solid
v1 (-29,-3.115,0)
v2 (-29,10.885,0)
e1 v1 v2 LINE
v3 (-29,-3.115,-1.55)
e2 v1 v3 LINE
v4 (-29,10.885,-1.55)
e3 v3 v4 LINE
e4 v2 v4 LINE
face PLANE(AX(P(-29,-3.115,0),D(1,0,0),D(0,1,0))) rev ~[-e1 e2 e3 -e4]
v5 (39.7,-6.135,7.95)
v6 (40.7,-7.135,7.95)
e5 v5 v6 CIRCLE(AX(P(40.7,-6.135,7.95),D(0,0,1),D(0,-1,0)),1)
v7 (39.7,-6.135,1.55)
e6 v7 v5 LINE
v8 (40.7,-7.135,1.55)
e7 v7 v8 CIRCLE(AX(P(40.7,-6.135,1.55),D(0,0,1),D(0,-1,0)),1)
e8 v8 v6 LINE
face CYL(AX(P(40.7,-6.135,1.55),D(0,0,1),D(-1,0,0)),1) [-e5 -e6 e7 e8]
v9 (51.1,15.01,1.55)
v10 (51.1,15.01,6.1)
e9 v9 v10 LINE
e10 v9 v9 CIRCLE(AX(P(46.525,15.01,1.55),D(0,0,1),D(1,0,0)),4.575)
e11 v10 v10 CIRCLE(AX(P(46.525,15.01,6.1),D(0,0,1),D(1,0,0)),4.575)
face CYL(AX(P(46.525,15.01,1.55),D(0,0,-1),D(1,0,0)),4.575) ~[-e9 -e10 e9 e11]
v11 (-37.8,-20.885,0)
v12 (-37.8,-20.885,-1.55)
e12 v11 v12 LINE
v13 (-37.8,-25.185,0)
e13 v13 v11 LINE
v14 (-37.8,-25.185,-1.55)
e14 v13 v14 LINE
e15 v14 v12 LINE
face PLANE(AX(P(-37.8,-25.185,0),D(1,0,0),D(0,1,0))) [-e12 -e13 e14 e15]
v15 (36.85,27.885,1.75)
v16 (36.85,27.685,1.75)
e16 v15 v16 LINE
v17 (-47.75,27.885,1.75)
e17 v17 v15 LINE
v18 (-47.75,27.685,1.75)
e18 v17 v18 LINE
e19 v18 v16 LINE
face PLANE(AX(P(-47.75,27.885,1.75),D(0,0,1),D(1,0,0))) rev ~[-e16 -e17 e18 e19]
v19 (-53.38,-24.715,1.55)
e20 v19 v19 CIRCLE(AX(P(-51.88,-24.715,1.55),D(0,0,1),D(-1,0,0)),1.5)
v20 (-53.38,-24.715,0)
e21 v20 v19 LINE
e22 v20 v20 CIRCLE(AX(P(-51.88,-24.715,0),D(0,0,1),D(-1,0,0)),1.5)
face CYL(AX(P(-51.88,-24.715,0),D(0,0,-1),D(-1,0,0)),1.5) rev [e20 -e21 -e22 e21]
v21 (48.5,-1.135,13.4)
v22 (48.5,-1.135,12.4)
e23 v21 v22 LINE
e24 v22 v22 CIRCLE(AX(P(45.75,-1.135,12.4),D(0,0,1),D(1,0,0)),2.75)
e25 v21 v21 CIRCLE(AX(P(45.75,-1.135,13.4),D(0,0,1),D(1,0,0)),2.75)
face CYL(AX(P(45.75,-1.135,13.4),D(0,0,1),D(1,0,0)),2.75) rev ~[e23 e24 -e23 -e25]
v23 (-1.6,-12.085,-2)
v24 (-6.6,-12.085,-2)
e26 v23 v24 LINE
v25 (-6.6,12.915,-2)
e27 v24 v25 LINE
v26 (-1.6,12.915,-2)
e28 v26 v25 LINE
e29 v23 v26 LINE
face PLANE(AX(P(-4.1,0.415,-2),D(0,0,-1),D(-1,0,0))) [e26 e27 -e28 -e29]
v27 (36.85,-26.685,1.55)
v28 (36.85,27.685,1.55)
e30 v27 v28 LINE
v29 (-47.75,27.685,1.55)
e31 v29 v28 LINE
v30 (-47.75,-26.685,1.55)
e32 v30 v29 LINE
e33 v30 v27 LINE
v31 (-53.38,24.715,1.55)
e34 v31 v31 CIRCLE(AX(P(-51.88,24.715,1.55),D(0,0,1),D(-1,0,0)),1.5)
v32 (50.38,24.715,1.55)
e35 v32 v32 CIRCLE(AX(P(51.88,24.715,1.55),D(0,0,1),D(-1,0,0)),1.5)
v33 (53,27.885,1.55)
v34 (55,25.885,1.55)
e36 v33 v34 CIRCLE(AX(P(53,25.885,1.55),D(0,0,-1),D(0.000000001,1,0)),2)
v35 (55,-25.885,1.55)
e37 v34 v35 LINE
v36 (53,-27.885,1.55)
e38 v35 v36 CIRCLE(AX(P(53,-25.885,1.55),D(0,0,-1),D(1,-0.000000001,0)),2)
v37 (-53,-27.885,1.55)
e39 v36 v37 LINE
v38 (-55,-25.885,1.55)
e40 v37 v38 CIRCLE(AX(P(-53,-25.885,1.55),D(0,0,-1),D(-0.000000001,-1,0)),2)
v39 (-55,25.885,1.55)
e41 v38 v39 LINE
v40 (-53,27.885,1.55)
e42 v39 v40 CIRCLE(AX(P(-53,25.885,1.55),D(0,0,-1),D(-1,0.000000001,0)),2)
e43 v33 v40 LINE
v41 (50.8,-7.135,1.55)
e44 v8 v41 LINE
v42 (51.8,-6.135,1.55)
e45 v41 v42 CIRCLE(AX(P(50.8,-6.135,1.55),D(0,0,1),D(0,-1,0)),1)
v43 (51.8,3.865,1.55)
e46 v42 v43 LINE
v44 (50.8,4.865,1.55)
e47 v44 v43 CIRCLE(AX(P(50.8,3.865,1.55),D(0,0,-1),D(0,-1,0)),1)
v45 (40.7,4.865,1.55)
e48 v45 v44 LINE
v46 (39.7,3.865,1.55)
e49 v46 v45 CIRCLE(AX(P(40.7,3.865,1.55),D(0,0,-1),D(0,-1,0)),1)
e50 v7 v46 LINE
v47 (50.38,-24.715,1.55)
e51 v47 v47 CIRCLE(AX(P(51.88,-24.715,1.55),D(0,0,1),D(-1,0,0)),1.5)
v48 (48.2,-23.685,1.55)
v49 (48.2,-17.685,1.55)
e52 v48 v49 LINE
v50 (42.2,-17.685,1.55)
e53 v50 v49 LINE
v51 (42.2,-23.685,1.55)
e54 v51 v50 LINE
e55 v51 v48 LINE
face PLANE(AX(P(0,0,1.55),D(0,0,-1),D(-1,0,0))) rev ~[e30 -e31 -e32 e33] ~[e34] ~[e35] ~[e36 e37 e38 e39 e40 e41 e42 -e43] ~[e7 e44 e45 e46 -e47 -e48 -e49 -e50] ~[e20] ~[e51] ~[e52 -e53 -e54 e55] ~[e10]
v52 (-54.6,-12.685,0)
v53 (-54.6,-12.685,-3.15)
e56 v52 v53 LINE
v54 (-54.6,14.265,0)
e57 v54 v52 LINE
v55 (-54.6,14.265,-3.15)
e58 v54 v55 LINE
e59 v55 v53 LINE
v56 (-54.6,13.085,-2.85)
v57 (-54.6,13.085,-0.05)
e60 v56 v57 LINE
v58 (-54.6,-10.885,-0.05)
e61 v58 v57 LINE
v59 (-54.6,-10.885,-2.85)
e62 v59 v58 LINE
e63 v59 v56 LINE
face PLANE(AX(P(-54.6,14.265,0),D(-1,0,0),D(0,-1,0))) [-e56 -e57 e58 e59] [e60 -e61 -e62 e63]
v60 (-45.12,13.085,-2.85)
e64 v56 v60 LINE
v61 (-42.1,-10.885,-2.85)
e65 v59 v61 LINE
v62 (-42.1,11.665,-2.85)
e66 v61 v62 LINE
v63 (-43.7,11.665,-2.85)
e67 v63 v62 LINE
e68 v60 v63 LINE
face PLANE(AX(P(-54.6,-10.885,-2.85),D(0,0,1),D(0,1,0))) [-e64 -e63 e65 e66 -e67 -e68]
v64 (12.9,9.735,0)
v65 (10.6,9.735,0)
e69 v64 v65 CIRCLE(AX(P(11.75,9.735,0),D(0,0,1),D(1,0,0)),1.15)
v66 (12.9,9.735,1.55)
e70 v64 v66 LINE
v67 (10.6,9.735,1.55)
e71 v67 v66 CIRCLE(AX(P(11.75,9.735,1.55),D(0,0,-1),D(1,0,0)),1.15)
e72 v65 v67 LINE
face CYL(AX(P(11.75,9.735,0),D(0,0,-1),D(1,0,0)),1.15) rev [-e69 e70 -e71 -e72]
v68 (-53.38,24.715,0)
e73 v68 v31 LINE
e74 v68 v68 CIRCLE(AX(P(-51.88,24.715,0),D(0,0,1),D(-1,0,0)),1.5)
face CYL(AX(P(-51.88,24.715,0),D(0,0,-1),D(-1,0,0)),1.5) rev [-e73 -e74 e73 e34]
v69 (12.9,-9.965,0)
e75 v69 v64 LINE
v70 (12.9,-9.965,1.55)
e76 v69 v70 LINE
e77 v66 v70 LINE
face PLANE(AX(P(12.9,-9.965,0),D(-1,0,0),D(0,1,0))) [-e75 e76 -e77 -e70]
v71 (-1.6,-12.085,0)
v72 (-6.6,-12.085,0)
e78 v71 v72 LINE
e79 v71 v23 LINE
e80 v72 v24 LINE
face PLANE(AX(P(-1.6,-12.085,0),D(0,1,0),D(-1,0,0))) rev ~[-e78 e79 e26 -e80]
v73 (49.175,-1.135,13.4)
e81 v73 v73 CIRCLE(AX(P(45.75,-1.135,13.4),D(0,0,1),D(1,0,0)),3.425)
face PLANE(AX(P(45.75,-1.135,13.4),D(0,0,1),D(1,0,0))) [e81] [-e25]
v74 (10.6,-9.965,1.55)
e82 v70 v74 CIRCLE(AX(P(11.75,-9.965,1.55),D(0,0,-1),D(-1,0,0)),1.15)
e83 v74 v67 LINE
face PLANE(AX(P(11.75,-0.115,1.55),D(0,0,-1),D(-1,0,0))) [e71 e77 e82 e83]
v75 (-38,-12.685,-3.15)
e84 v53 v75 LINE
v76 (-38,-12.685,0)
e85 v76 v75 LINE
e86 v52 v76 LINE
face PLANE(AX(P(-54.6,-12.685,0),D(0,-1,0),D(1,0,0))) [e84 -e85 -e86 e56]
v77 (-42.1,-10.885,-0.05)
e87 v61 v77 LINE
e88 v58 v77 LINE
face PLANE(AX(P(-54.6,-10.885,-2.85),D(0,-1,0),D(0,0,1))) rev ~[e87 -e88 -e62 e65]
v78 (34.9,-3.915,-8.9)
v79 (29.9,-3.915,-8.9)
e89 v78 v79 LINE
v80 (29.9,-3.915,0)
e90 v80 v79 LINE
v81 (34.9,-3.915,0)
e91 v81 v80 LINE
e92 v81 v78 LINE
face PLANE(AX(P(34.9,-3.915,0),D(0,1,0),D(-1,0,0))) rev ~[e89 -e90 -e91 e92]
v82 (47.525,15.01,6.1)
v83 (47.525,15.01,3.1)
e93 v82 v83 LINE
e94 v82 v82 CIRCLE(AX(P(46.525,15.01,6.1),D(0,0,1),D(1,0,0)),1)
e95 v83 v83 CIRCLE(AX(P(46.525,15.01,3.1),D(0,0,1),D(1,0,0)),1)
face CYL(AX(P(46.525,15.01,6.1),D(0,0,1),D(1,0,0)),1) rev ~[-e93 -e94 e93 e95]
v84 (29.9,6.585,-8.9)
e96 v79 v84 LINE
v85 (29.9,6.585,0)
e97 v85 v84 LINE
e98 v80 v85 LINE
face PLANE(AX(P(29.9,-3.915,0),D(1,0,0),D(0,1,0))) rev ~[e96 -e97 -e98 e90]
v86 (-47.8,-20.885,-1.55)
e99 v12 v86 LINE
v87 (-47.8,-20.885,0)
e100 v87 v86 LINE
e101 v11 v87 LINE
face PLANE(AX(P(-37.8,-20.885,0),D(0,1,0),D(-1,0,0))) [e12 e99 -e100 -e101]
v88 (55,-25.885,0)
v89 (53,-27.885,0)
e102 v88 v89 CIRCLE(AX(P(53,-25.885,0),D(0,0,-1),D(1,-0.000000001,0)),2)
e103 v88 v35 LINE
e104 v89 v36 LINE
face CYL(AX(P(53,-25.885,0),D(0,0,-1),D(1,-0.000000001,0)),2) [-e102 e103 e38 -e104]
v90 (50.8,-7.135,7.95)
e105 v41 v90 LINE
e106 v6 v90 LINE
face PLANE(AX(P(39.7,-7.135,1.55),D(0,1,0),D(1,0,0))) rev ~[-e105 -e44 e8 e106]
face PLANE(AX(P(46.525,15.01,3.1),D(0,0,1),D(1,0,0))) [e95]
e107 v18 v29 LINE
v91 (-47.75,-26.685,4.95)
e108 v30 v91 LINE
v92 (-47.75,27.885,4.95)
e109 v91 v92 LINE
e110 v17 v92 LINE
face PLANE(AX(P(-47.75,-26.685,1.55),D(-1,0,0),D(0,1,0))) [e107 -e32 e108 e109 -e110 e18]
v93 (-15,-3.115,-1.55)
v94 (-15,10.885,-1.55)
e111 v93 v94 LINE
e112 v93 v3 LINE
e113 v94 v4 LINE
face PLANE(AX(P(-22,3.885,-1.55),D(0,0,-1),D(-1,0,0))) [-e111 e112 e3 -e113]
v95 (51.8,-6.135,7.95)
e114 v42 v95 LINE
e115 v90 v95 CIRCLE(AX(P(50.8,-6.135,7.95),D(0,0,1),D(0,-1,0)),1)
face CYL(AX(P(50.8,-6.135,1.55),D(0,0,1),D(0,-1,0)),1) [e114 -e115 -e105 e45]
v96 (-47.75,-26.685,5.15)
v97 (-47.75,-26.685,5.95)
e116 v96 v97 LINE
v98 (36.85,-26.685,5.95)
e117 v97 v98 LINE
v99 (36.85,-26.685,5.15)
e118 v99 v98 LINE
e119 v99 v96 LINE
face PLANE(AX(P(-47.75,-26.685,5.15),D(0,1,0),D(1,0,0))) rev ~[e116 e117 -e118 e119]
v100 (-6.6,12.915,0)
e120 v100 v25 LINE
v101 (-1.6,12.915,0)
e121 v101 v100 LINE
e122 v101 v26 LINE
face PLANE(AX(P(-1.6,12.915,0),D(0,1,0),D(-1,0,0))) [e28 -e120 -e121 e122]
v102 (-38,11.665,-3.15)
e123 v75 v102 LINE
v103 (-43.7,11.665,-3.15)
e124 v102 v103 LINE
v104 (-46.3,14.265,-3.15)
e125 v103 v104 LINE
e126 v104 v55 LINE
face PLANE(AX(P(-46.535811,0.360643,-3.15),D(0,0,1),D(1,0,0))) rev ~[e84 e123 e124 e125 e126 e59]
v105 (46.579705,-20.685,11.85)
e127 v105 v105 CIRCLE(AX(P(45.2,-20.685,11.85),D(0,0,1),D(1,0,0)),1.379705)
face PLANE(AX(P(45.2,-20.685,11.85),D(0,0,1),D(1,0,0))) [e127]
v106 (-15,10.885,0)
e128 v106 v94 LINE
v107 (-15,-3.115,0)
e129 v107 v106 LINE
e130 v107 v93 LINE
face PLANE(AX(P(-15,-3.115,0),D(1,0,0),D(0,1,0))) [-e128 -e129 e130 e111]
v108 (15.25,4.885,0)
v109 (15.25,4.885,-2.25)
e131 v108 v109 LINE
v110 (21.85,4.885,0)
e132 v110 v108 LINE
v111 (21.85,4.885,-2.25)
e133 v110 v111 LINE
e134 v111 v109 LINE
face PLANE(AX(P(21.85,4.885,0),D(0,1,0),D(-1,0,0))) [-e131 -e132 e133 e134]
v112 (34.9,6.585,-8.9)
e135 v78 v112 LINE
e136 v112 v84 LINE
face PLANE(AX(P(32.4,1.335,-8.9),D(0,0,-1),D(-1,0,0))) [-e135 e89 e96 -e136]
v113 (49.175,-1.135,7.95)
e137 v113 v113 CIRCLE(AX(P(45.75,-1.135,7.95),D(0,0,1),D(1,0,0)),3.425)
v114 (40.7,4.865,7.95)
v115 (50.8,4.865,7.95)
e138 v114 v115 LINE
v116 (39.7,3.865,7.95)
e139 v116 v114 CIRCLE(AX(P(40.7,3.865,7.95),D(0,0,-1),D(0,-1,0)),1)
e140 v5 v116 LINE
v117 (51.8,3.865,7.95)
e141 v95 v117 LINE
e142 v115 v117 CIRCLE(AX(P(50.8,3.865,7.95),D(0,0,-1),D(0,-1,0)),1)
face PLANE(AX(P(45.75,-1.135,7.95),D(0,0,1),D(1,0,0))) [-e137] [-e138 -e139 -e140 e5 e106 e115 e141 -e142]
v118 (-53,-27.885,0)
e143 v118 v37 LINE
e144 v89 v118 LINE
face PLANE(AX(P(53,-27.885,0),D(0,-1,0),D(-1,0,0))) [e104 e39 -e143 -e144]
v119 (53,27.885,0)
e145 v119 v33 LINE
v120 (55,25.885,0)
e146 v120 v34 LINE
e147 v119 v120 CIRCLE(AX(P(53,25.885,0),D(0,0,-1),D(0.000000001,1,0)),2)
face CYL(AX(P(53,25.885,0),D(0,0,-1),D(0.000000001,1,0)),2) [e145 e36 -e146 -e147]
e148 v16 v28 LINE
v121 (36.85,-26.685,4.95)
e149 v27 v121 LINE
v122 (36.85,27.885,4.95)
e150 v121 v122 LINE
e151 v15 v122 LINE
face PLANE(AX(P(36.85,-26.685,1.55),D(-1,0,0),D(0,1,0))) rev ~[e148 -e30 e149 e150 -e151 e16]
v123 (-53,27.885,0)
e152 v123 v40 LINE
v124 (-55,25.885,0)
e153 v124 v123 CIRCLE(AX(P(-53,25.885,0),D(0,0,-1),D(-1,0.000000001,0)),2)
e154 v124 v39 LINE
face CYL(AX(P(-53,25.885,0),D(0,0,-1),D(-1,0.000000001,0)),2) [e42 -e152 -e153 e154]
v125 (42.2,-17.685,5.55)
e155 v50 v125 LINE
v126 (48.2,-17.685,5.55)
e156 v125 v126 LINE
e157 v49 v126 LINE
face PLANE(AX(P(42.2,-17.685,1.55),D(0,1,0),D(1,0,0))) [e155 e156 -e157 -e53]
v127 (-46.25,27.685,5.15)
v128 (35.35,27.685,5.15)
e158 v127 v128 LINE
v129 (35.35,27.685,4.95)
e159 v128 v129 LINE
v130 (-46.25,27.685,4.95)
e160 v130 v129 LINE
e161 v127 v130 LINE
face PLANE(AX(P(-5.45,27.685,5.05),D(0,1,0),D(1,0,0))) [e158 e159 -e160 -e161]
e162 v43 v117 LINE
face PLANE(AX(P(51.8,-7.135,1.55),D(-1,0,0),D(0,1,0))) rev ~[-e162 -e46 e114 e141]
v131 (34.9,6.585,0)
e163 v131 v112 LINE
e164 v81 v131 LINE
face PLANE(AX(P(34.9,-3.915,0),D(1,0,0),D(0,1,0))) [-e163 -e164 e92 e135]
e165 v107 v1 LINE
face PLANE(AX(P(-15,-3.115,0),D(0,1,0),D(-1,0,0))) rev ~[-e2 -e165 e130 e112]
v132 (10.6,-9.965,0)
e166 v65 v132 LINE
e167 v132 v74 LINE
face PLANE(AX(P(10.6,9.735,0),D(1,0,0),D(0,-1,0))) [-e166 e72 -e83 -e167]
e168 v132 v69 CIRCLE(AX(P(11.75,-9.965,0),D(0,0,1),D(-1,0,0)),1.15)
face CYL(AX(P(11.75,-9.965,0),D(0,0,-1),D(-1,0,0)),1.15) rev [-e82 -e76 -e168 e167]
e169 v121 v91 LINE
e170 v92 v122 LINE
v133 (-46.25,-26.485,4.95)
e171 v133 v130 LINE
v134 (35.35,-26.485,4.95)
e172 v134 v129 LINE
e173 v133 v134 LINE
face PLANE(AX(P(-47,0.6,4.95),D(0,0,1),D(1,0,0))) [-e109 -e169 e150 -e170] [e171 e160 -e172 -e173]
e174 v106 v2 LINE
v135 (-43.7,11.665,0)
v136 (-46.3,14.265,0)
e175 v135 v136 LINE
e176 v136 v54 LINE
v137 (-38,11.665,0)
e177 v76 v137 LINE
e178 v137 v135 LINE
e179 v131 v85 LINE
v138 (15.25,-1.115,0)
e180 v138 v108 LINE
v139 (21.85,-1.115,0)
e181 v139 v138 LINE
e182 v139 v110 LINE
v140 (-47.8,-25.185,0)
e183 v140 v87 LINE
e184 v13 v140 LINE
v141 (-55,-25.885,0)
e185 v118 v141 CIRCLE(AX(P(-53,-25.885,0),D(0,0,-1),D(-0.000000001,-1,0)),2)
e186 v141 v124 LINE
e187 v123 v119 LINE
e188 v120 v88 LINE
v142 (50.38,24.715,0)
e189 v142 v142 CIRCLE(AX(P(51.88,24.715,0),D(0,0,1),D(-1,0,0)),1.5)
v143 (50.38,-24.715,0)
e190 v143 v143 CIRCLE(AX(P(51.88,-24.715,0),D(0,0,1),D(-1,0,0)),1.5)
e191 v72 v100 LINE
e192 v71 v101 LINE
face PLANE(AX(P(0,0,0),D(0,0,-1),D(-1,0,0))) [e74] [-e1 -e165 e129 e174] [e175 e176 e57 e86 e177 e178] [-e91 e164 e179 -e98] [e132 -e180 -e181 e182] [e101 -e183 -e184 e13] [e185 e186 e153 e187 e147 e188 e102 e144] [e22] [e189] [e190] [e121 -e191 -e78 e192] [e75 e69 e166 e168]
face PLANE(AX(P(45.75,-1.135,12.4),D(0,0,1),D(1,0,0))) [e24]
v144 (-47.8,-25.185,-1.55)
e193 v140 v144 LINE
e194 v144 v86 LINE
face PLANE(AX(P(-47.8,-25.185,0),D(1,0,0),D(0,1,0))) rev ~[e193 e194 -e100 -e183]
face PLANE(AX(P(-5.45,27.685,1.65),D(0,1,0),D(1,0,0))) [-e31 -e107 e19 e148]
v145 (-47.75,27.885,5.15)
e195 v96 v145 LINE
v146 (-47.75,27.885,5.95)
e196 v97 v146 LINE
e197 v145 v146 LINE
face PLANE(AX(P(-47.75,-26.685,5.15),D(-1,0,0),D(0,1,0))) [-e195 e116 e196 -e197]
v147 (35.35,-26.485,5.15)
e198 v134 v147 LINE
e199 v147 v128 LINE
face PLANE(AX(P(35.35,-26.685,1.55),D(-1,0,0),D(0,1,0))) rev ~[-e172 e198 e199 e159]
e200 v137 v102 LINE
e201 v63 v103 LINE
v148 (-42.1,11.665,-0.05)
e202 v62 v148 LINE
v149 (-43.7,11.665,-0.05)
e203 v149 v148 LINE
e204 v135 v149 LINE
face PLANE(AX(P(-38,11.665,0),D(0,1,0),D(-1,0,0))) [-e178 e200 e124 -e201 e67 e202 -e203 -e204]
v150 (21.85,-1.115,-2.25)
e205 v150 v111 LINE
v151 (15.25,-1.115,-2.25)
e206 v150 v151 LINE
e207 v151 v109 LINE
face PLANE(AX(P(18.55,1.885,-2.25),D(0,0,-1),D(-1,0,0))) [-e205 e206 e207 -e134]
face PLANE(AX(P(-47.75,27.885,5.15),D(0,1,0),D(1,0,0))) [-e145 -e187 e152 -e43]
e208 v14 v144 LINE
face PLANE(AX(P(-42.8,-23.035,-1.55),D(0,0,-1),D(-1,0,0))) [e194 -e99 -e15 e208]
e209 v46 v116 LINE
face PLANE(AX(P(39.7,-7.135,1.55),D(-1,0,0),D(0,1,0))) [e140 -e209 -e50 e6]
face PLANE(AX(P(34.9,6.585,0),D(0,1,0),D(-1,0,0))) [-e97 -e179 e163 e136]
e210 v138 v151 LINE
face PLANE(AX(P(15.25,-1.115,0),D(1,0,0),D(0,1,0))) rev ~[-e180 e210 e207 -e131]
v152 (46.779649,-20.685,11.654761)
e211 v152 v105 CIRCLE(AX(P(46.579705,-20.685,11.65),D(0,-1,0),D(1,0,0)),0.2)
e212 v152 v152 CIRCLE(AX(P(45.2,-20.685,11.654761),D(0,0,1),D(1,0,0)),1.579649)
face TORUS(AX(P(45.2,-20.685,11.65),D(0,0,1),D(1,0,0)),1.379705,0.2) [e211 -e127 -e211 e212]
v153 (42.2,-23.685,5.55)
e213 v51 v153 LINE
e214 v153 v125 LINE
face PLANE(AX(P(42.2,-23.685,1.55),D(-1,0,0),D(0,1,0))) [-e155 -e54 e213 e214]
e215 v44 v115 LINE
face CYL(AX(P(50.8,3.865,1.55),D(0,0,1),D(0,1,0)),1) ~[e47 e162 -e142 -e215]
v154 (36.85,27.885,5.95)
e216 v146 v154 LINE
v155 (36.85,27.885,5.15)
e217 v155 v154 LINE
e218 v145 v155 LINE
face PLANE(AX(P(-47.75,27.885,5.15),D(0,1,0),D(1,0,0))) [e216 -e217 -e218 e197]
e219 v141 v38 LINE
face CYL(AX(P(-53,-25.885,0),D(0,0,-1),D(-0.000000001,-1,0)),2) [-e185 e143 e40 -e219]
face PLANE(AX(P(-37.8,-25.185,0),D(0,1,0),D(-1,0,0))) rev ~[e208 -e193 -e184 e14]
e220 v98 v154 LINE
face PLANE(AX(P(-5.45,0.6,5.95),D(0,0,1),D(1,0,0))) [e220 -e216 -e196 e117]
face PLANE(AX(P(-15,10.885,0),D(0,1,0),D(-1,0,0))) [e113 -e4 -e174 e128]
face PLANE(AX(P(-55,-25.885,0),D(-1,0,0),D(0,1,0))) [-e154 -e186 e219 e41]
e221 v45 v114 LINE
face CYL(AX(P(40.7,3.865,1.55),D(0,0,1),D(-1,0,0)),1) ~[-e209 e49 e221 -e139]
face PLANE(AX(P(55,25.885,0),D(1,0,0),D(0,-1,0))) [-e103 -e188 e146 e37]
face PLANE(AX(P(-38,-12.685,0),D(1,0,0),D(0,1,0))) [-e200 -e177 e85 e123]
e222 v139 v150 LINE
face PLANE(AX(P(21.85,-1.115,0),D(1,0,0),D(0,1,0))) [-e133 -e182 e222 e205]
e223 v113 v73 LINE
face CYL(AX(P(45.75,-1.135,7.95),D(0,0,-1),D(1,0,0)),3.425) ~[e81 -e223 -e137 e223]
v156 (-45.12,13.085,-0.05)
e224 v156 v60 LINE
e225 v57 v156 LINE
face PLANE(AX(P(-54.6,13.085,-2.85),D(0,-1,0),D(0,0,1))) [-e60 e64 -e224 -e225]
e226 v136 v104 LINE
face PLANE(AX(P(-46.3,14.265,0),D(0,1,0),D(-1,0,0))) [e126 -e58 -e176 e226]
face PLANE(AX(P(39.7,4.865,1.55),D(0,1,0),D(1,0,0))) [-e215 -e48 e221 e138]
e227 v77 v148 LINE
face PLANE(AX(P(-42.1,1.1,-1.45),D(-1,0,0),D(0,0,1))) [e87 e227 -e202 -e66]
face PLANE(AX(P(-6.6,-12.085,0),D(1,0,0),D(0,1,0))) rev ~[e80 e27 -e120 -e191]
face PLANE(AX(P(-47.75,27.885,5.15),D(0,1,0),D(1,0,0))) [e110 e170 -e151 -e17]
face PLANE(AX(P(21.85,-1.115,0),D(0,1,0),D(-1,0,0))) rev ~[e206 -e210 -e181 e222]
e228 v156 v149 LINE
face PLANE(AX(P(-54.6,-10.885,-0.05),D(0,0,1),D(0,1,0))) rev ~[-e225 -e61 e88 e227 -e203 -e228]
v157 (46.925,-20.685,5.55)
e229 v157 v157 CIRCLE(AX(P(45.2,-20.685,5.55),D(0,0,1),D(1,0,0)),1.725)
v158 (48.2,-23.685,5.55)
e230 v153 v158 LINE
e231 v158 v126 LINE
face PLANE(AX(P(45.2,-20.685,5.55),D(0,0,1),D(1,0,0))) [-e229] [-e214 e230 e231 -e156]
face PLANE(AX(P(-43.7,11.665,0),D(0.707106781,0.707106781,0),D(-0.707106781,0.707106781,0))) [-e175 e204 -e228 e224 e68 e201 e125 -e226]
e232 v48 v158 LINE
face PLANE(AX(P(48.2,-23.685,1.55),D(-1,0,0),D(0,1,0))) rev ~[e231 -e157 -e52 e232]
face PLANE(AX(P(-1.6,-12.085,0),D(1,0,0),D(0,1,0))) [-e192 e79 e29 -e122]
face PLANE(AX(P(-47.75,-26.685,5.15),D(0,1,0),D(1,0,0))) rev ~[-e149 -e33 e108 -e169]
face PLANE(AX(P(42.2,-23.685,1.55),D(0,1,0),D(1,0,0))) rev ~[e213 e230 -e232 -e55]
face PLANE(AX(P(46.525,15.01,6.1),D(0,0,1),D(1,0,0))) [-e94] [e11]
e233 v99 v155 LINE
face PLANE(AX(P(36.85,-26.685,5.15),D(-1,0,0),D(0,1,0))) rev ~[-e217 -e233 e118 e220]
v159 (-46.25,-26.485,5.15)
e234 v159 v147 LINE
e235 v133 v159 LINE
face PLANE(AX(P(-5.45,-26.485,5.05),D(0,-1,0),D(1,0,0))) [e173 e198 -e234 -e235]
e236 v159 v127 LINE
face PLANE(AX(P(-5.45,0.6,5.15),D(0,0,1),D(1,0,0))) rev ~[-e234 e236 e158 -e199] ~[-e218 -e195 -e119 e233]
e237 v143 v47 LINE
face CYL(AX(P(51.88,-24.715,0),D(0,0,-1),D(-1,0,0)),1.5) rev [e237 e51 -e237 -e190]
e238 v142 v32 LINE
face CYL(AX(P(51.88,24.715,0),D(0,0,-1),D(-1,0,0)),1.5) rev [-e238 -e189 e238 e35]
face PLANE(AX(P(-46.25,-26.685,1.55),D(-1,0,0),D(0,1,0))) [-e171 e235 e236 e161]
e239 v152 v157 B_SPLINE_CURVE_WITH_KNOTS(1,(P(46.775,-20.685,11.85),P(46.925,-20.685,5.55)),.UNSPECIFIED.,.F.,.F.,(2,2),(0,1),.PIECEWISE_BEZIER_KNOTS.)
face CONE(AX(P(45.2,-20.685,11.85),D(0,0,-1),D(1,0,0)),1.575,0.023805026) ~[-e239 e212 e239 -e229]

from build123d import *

# Parameters (mm, degrees)
SKETCH1_R            = 1.5
BOSS_EXTRUDE1_DEPTH  = 1.55
SKETCH3_W            = 14
SKETCH3_H            = 14
BOSS_EXTRUDE2_DEPTH  = 1.55
CUT_EXTRUDE1_REACH   = 63.684
BOSS_EXTRUDE3_DEPTH  = 3.15
SKETCH3_4_W          = 5
SKETCH3_4_H          = 25
BOSS_EXTRUDE4_DEPTH  = 2
SKETCH3_5_W          = 5
SKETCH3_5_H          = 10.5
BOSS_EXTRUDE5_DEPTH  = 8.9
SKETCH3_6_W          = 6.6
SKETCH3_6_H          = 6
BOSS_EXTRUDE6_DEPTH  = 2.25
SKETCH3_7_W          = 10
SKETCH3_7_H          = 4.3
BOSS_EXTRUDE7_DEPTH  = 1.55
SKETCH5_W            = 81.6
SKETCH5_H            = 54.57
BOSS_EXTRUDE8_DEPTH  = 3.6
SKETCH5_3_W          = 1.5
SKETCH5_3_H          = 54.57
BOSS_EXTRUDE9_DEPTH  = 3.4
SKETCH6_W            = 84.6
SKETCH6_H            = 54.57
BOSS_EXTRUDE10_DEPTH = 0.8
SKETCH5_4_W          = 6
SKETCH5_4_H          = 6
BOSS_EXTRUDE11_DEPTH = 4
SKETCH5_5_W          = 12.1
SKETCH5_5_H          = 12
BOSS_EXTRUDE12_DEPTH = 6.4
SKETCH5_6_R          = 4.575
BOSS_EXTRUDE13_DEPTH = 4.55
SKETCH7_R            = 1
CUT_EXTRUDE2_DEPTH   = 3
SKETCH8_R            = 3.425
BOSS_EXTRUDE14_DEPTH = 5.45
SKETCH10_R           = 1.575
SKETCH9_R            = 1.725
FILLET1_R            = 0.2
SKETCH11_W           = 2.8
SKETCH11_H           = 23.97
CUT_EXTRUDE3_DEPTH   = 12.5
FILLET2_R            = 1
SKETCH13_W           = 84.6
SKETCH13_H           = 0.2
SKETCH13_W_2         = 81.6
CUT_EXTRUDE4_DEPTH   = 0.2
SKETCH14_W           = 81.6
SKETCH14_H           = 0.2
CUT_EXTRUDE5_DEPTH   = 0.2
SKETCH15_R           = 2.75
CUT_EXTRUDE6_DEPTH   = 1


with BuildPart() as part:
    # Sketch1 → Boss-Extrude1 (new body)
    with BuildSketch(Plane.XY):
        with BuildLine():
            Line((-53, 27.885), (53, 27.885))
            ThreePointArc((53, 27.885), (54.414213562, 27.299213562), (55, 25.885))
            Line((55, 25.885), (55, -25.885))
            ThreePointArc((55, -25.885), (54.414213562, -27.299213562), (53, -27.885))
            Line((53, -27.885), (-53, -27.885))
            ThreePointArc((-53, -27.885), (-54.414213562, -27.299213562), (-55, -25.885))
            Line((-55, -25.885), (-55, 25.885))
            ThreePointArc((-55, 25.885), (-54.414213562, 27.299213562), (-53, 27.885))
        make_face()
        with Locations(Location((-51.88, 24.715, 0), (0, 0, 180))):
            Circle(SKETCH1_R, mode=Mode.SUBTRACT)
        with Locations(Location((51.88, 24.715, 0), (0, 0, 180))):
            Circle(SKETCH1_R, mode=Mode.SUBTRACT)
        with Locations(Location((51.88, -24.715, 0), (0, 0, 180))):
            Circle(SKETCH1_R, mode=Mode.SUBTRACT)
        with Locations(Location((-51.88, -24.715, 0), (0, 0, 180))):
            Circle(SKETCH1_R, mode=Mode.SUBTRACT)
    extrude(amount=BOSS_EXTRUDE1_DEPTH)

    # Sketch3 → Boss-Extrude2 (add)
    with BuildSketch(Plane(origin=(0, 0, 0), x_dir=(-1, 0, 0), z_dir=(0, 0, -1))):
        with Locations((22, 3.885)):
            Rectangle(SKETCH3_W, SKETCH3_H)
    extrude(amount=BOSS_EXTRUDE2_DEPTH)

    # Sketch4 → Cut-Extrude1 (cut, up to next)
    with BuildSketch(Plane(origin=(0, 0, 0), x_dir=(-1, 0, 0), z_dir=(0, 0, -1)), mode=Mode.PRIVATE) as cut_extrude1_sk1:
        with BuildLine():
            Line((-10.6, 9.735), (-10.6, -9.965))
            ThreePointArc((-10.6, -9.965), (-11.75, -11.115), (-12.9, -9.965))
            Line((-12.9, -9.965), (-12.9, 9.735))
            ThreePointArc((-12.9, 9.735), (-11.75, 10.885), (-10.6, 9.735))
        make_face()
    cut_extrude1_tool1 = extrude(cut_extrude1_sk1.sketch, amount=-CUT_EXTRUDE1_REACH, mode=Mode.PRIVATE) & part.part
    add(cut_extrude1_tool1.solids().sort_by_distance((11.75, -0.115, 0))[0], mode=Mode.SUBTRACT)

    # Sketch3<3> → Boss-Extrude3 (add)
    with BuildSketch(Plane(origin=(0, 0, 0), x_dir=(-1, 0, 0), z_dir=(0, 0, -1))):
        Polygon((43.7, 11.665), (46.3, 14.265), (54.6, 14.265), (54.6, -12.685), (38, -12.685), (38, 11.665), align=None)
    extrude(amount=BOSS_EXTRUDE3_DEPTH)

    # Sketch3<4> → Boss-Extrude4 (add)
    with BuildSketch(Plane(origin=(0, 0, 0), x_dir=(-1, 0, 0), z_dir=(0, 0, -1))):
        with Locations((4.1, 0.415)):
            Rectangle(SKETCH3_4_W, SKETCH3_4_H)
    extrude(amount=BOSS_EXTRUDE4_DEPTH)

    # Sketch3<5> → Boss-Extrude5 (add)
    with BuildSketch(Plane(origin=(0, 0, 0), x_dir=(-1, 0, 0), z_dir=(0, 0, -1))):
        with Locations((-32.4, 1.335)):
            Rectangle(SKETCH3_5_W, SKETCH3_5_H)
    extrude(amount=BOSS_EXTRUDE5_DEPTH)

    # Sketch3<6> → Boss-Extrude6 (add)
    with BuildSketch(Plane(origin=(0, 0, 0), x_dir=(-1, 0, 0), z_dir=(0, 0, -1))):
        with Locations((-18.55, 1.885)):
            Rectangle(SKETCH3_6_W, SKETCH3_6_H)
    extrude(amount=BOSS_EXTRUDE6_DEPTH)

    # Sketch3<7> → Boss-Extrude7 (add)
    with BuildSketch(Plane(origin=(0, 0, 0), x_dir=(-1, 0, 0), z_dir=(0, 0, -1))):
        with Locations((42.8, -23.035)):
            Rectangle(SKETCH3_7_W, SKETCH3_7_H)
    extrude(amount=BOSS_EXTRUDE7_DEPTH)

    # Sketch5 → Boss-Extrude8 (add)
    # profile 1 of 2: a face of its own
    with BuildSketch(Plane.XY.offset(1.55)):
        with Locations((-5.45, 0.6)):
            Rectangle(SKETCH5_W, SKETCH5_H)
        with BuildLine():
            Line((10.6, -9.965), (10.6, 9.735))
            ThreePointArc((10.6, 9.735), (11.75, 10.885), (12.9, 9.735))
            Line((12.9, 9.735), (12.9, -9.965))
            ThreePointArc((12.9, -9.965), (11.75, -11.115), (10.6, -9.965))
        make_face(mode=Mode.SUBTRACT)
    # profile 2 of 2: a face of its own
    with BuildSketch(Plane.XY.offset(1.55)):
        with BuildLine():
            ThreePointArc((10.6, 9.735), (11.75, 10.885), (12.9, 9.735))
            Line((12.9, 9.735), (12.9, -9.965))
            ThreePointArc((12.9, -9.965), (11.75, -11.115), (10.6, -9.965))
            Line((10.6, -9.965), (10.6, 9.735))
        make_face()
    extrude(amount=BOSS_EXTRUDE8_DEPTH)

    # Sketch5<3> → Boss-Extrude9 (add)
    with BuildSketch(Plane.XY.offset(1.55)):
        with Locations((-47, 0.6)):
            Rectangle(SKETCH5_3_W, SKETCH5_3_H)
        with Locations((36.1, 0.6)):
            Rectangle(SKETCH5_3_W, SKETCH5_3_H)
    extrude(amount=BOSS_EXTRUDE9_DEPTH)

    # Sketch6 → Boss-Extrude10 (add)
    with BuildSketch(Plane.XY.offset(5.15)):
        with Locations((-5.45, 0.6)):
            Rectangle(SKETCH6_W, SKETCH6_H)
    extrude(amount=BOSS_EXTRUDE10_DEPTH)

    # Sketch5<4> → Boss-Extrude11 (add)
    with BuildSketch(Plane.XY.offset(1.55)):
        with Locations((45.2, -20.685)):
            Rectangle(SKETCH5_4_W, SKETCH5_4_H)
    extrude(amount=BOSS_EXTRUDE11_DEPTH)

    # Sketch5<5> → Boss-Extrude12 (add)
    with BuildSketch(Plane.XY.offset(1.55)):
        with Locations((45.75, -1.135)):
            Rectangle(SKETCH5_5_W, SKETCH5_5_H)
    extrude(amount=BOSS_EXTRUDE12_DEPTH)

    # Sketch5<6> → Boss-Extrude13 (add)
    with BuildSketch(Plane.XY.offset(1.55)):
        with Locations((46.525, 15.01)):
            Circle(SKETCH5_6_R)
    extrude(amount=BOSS_EXTRUDE13_DEPTH)

    # Sketch7 → Cut-Extrude2 (cut)
    with BuildSketch(Plane.XY.offset(6.1)):
        with Locations((46.525, 15.01)):
            Circle(SKETCH7_R)
    extrude(amount=-CUT_EXTRUDE2_DEPTH, mode=Mode.SUBTRACT)

    # Sketch8 → Boss-Extrude14 (add)
    with BuildSketch(Plane.XY.offset(7.95)):
        with Locations((45.75, -1.135)):
            Circle(SKETCH8_R)
    extrude(amount=BOSS_EXTRUDE14_DEPTH)

    # Sketch10 → Loft1 section 0
    with BuildSketch(Plane.XY.offset(11.85)):
        with Locations((45.2, -20.685)):
            Circle(SKETCH10_R)
    # Sketch9 → Loft1 section 1
    with BuildSketch(Plane.XY.offset(5.55)):
        with Locations((45.2, -20.685)):
            Circle(SKETCH9_R)
    loft()

    # Fillet1
    fillet1_edges = [part.edges().sort_by_distance(p)[0] for p in [
        (43.625, -20.685, 11.85),
    ]]
    fillet(fillet1_edges, radius=FILLET1_R)

    # Sketch11 → Cut-Extrude3 (cut)
    with BuildSketch(Plane.ZY.offset(54.6)):
        with Locations((-1.45, 1.1)):
            Rectangle(SKETCH11_W, SKETCH11_H)
    extrude(amount=-CUT_EXTRUDE3_DEPTH, mode=Mode.SUBTRACT)

    # Fillet2
    fillet2_edges = [part.edges().sort_by_distance(p)[0] for p in [
        (51.8, -7.135, 4.75),
        (51.8, 4.865, 4.75),
        (39.7, 4.865, 4.75),
        (39.7, -7.135, 4.75),
    ]]
    fillet(fillet2_edges, radius=FILLET2_R)

    # Sketch13 → Cut-Extrude4 (cut)
    with BuildSketch(Plane(origin=(0, 27.885, 0), x_dir=(1, 0, 0), z_dir=(0, 1, 0))):
        with Locations((-5.45, -1.65)):
            Rectangle(SKETCH13_W, SKETCH13_H)
        with Locations((-5.45, -5.05)):
            Rectangle(SKETCH13_W_2, SKETCH13_H)
    extrude(amount=-CUT_EXTRUDE4_DEPTH, mode=Mode.SUBTRACT)

    # Sketch14 → Cut-Extrude5 (cut)
    with BuildSketch(Plane.XZ.offset(26.685)):
        with Locations((-5.45, 5.05)):
            Rectangle(SKETCH14_W, SKETCH14_H)
    extrude(amount=-CUT_EXTRUDE5_DEPTH, mode=Mode.SUBTRACT)

    # Sketch15 → Cut-Extrude6 (cut)
    with BuildSketch(Plane.XY.offset(13.4)):
        with Locations((45.75, -1.135)):
            Circle(SKETCH15_R)
    extrude(amount=-CUT_EXTRUDE6_DEPTH, mode=Mode.SUBTRACT)


solid = part.part
